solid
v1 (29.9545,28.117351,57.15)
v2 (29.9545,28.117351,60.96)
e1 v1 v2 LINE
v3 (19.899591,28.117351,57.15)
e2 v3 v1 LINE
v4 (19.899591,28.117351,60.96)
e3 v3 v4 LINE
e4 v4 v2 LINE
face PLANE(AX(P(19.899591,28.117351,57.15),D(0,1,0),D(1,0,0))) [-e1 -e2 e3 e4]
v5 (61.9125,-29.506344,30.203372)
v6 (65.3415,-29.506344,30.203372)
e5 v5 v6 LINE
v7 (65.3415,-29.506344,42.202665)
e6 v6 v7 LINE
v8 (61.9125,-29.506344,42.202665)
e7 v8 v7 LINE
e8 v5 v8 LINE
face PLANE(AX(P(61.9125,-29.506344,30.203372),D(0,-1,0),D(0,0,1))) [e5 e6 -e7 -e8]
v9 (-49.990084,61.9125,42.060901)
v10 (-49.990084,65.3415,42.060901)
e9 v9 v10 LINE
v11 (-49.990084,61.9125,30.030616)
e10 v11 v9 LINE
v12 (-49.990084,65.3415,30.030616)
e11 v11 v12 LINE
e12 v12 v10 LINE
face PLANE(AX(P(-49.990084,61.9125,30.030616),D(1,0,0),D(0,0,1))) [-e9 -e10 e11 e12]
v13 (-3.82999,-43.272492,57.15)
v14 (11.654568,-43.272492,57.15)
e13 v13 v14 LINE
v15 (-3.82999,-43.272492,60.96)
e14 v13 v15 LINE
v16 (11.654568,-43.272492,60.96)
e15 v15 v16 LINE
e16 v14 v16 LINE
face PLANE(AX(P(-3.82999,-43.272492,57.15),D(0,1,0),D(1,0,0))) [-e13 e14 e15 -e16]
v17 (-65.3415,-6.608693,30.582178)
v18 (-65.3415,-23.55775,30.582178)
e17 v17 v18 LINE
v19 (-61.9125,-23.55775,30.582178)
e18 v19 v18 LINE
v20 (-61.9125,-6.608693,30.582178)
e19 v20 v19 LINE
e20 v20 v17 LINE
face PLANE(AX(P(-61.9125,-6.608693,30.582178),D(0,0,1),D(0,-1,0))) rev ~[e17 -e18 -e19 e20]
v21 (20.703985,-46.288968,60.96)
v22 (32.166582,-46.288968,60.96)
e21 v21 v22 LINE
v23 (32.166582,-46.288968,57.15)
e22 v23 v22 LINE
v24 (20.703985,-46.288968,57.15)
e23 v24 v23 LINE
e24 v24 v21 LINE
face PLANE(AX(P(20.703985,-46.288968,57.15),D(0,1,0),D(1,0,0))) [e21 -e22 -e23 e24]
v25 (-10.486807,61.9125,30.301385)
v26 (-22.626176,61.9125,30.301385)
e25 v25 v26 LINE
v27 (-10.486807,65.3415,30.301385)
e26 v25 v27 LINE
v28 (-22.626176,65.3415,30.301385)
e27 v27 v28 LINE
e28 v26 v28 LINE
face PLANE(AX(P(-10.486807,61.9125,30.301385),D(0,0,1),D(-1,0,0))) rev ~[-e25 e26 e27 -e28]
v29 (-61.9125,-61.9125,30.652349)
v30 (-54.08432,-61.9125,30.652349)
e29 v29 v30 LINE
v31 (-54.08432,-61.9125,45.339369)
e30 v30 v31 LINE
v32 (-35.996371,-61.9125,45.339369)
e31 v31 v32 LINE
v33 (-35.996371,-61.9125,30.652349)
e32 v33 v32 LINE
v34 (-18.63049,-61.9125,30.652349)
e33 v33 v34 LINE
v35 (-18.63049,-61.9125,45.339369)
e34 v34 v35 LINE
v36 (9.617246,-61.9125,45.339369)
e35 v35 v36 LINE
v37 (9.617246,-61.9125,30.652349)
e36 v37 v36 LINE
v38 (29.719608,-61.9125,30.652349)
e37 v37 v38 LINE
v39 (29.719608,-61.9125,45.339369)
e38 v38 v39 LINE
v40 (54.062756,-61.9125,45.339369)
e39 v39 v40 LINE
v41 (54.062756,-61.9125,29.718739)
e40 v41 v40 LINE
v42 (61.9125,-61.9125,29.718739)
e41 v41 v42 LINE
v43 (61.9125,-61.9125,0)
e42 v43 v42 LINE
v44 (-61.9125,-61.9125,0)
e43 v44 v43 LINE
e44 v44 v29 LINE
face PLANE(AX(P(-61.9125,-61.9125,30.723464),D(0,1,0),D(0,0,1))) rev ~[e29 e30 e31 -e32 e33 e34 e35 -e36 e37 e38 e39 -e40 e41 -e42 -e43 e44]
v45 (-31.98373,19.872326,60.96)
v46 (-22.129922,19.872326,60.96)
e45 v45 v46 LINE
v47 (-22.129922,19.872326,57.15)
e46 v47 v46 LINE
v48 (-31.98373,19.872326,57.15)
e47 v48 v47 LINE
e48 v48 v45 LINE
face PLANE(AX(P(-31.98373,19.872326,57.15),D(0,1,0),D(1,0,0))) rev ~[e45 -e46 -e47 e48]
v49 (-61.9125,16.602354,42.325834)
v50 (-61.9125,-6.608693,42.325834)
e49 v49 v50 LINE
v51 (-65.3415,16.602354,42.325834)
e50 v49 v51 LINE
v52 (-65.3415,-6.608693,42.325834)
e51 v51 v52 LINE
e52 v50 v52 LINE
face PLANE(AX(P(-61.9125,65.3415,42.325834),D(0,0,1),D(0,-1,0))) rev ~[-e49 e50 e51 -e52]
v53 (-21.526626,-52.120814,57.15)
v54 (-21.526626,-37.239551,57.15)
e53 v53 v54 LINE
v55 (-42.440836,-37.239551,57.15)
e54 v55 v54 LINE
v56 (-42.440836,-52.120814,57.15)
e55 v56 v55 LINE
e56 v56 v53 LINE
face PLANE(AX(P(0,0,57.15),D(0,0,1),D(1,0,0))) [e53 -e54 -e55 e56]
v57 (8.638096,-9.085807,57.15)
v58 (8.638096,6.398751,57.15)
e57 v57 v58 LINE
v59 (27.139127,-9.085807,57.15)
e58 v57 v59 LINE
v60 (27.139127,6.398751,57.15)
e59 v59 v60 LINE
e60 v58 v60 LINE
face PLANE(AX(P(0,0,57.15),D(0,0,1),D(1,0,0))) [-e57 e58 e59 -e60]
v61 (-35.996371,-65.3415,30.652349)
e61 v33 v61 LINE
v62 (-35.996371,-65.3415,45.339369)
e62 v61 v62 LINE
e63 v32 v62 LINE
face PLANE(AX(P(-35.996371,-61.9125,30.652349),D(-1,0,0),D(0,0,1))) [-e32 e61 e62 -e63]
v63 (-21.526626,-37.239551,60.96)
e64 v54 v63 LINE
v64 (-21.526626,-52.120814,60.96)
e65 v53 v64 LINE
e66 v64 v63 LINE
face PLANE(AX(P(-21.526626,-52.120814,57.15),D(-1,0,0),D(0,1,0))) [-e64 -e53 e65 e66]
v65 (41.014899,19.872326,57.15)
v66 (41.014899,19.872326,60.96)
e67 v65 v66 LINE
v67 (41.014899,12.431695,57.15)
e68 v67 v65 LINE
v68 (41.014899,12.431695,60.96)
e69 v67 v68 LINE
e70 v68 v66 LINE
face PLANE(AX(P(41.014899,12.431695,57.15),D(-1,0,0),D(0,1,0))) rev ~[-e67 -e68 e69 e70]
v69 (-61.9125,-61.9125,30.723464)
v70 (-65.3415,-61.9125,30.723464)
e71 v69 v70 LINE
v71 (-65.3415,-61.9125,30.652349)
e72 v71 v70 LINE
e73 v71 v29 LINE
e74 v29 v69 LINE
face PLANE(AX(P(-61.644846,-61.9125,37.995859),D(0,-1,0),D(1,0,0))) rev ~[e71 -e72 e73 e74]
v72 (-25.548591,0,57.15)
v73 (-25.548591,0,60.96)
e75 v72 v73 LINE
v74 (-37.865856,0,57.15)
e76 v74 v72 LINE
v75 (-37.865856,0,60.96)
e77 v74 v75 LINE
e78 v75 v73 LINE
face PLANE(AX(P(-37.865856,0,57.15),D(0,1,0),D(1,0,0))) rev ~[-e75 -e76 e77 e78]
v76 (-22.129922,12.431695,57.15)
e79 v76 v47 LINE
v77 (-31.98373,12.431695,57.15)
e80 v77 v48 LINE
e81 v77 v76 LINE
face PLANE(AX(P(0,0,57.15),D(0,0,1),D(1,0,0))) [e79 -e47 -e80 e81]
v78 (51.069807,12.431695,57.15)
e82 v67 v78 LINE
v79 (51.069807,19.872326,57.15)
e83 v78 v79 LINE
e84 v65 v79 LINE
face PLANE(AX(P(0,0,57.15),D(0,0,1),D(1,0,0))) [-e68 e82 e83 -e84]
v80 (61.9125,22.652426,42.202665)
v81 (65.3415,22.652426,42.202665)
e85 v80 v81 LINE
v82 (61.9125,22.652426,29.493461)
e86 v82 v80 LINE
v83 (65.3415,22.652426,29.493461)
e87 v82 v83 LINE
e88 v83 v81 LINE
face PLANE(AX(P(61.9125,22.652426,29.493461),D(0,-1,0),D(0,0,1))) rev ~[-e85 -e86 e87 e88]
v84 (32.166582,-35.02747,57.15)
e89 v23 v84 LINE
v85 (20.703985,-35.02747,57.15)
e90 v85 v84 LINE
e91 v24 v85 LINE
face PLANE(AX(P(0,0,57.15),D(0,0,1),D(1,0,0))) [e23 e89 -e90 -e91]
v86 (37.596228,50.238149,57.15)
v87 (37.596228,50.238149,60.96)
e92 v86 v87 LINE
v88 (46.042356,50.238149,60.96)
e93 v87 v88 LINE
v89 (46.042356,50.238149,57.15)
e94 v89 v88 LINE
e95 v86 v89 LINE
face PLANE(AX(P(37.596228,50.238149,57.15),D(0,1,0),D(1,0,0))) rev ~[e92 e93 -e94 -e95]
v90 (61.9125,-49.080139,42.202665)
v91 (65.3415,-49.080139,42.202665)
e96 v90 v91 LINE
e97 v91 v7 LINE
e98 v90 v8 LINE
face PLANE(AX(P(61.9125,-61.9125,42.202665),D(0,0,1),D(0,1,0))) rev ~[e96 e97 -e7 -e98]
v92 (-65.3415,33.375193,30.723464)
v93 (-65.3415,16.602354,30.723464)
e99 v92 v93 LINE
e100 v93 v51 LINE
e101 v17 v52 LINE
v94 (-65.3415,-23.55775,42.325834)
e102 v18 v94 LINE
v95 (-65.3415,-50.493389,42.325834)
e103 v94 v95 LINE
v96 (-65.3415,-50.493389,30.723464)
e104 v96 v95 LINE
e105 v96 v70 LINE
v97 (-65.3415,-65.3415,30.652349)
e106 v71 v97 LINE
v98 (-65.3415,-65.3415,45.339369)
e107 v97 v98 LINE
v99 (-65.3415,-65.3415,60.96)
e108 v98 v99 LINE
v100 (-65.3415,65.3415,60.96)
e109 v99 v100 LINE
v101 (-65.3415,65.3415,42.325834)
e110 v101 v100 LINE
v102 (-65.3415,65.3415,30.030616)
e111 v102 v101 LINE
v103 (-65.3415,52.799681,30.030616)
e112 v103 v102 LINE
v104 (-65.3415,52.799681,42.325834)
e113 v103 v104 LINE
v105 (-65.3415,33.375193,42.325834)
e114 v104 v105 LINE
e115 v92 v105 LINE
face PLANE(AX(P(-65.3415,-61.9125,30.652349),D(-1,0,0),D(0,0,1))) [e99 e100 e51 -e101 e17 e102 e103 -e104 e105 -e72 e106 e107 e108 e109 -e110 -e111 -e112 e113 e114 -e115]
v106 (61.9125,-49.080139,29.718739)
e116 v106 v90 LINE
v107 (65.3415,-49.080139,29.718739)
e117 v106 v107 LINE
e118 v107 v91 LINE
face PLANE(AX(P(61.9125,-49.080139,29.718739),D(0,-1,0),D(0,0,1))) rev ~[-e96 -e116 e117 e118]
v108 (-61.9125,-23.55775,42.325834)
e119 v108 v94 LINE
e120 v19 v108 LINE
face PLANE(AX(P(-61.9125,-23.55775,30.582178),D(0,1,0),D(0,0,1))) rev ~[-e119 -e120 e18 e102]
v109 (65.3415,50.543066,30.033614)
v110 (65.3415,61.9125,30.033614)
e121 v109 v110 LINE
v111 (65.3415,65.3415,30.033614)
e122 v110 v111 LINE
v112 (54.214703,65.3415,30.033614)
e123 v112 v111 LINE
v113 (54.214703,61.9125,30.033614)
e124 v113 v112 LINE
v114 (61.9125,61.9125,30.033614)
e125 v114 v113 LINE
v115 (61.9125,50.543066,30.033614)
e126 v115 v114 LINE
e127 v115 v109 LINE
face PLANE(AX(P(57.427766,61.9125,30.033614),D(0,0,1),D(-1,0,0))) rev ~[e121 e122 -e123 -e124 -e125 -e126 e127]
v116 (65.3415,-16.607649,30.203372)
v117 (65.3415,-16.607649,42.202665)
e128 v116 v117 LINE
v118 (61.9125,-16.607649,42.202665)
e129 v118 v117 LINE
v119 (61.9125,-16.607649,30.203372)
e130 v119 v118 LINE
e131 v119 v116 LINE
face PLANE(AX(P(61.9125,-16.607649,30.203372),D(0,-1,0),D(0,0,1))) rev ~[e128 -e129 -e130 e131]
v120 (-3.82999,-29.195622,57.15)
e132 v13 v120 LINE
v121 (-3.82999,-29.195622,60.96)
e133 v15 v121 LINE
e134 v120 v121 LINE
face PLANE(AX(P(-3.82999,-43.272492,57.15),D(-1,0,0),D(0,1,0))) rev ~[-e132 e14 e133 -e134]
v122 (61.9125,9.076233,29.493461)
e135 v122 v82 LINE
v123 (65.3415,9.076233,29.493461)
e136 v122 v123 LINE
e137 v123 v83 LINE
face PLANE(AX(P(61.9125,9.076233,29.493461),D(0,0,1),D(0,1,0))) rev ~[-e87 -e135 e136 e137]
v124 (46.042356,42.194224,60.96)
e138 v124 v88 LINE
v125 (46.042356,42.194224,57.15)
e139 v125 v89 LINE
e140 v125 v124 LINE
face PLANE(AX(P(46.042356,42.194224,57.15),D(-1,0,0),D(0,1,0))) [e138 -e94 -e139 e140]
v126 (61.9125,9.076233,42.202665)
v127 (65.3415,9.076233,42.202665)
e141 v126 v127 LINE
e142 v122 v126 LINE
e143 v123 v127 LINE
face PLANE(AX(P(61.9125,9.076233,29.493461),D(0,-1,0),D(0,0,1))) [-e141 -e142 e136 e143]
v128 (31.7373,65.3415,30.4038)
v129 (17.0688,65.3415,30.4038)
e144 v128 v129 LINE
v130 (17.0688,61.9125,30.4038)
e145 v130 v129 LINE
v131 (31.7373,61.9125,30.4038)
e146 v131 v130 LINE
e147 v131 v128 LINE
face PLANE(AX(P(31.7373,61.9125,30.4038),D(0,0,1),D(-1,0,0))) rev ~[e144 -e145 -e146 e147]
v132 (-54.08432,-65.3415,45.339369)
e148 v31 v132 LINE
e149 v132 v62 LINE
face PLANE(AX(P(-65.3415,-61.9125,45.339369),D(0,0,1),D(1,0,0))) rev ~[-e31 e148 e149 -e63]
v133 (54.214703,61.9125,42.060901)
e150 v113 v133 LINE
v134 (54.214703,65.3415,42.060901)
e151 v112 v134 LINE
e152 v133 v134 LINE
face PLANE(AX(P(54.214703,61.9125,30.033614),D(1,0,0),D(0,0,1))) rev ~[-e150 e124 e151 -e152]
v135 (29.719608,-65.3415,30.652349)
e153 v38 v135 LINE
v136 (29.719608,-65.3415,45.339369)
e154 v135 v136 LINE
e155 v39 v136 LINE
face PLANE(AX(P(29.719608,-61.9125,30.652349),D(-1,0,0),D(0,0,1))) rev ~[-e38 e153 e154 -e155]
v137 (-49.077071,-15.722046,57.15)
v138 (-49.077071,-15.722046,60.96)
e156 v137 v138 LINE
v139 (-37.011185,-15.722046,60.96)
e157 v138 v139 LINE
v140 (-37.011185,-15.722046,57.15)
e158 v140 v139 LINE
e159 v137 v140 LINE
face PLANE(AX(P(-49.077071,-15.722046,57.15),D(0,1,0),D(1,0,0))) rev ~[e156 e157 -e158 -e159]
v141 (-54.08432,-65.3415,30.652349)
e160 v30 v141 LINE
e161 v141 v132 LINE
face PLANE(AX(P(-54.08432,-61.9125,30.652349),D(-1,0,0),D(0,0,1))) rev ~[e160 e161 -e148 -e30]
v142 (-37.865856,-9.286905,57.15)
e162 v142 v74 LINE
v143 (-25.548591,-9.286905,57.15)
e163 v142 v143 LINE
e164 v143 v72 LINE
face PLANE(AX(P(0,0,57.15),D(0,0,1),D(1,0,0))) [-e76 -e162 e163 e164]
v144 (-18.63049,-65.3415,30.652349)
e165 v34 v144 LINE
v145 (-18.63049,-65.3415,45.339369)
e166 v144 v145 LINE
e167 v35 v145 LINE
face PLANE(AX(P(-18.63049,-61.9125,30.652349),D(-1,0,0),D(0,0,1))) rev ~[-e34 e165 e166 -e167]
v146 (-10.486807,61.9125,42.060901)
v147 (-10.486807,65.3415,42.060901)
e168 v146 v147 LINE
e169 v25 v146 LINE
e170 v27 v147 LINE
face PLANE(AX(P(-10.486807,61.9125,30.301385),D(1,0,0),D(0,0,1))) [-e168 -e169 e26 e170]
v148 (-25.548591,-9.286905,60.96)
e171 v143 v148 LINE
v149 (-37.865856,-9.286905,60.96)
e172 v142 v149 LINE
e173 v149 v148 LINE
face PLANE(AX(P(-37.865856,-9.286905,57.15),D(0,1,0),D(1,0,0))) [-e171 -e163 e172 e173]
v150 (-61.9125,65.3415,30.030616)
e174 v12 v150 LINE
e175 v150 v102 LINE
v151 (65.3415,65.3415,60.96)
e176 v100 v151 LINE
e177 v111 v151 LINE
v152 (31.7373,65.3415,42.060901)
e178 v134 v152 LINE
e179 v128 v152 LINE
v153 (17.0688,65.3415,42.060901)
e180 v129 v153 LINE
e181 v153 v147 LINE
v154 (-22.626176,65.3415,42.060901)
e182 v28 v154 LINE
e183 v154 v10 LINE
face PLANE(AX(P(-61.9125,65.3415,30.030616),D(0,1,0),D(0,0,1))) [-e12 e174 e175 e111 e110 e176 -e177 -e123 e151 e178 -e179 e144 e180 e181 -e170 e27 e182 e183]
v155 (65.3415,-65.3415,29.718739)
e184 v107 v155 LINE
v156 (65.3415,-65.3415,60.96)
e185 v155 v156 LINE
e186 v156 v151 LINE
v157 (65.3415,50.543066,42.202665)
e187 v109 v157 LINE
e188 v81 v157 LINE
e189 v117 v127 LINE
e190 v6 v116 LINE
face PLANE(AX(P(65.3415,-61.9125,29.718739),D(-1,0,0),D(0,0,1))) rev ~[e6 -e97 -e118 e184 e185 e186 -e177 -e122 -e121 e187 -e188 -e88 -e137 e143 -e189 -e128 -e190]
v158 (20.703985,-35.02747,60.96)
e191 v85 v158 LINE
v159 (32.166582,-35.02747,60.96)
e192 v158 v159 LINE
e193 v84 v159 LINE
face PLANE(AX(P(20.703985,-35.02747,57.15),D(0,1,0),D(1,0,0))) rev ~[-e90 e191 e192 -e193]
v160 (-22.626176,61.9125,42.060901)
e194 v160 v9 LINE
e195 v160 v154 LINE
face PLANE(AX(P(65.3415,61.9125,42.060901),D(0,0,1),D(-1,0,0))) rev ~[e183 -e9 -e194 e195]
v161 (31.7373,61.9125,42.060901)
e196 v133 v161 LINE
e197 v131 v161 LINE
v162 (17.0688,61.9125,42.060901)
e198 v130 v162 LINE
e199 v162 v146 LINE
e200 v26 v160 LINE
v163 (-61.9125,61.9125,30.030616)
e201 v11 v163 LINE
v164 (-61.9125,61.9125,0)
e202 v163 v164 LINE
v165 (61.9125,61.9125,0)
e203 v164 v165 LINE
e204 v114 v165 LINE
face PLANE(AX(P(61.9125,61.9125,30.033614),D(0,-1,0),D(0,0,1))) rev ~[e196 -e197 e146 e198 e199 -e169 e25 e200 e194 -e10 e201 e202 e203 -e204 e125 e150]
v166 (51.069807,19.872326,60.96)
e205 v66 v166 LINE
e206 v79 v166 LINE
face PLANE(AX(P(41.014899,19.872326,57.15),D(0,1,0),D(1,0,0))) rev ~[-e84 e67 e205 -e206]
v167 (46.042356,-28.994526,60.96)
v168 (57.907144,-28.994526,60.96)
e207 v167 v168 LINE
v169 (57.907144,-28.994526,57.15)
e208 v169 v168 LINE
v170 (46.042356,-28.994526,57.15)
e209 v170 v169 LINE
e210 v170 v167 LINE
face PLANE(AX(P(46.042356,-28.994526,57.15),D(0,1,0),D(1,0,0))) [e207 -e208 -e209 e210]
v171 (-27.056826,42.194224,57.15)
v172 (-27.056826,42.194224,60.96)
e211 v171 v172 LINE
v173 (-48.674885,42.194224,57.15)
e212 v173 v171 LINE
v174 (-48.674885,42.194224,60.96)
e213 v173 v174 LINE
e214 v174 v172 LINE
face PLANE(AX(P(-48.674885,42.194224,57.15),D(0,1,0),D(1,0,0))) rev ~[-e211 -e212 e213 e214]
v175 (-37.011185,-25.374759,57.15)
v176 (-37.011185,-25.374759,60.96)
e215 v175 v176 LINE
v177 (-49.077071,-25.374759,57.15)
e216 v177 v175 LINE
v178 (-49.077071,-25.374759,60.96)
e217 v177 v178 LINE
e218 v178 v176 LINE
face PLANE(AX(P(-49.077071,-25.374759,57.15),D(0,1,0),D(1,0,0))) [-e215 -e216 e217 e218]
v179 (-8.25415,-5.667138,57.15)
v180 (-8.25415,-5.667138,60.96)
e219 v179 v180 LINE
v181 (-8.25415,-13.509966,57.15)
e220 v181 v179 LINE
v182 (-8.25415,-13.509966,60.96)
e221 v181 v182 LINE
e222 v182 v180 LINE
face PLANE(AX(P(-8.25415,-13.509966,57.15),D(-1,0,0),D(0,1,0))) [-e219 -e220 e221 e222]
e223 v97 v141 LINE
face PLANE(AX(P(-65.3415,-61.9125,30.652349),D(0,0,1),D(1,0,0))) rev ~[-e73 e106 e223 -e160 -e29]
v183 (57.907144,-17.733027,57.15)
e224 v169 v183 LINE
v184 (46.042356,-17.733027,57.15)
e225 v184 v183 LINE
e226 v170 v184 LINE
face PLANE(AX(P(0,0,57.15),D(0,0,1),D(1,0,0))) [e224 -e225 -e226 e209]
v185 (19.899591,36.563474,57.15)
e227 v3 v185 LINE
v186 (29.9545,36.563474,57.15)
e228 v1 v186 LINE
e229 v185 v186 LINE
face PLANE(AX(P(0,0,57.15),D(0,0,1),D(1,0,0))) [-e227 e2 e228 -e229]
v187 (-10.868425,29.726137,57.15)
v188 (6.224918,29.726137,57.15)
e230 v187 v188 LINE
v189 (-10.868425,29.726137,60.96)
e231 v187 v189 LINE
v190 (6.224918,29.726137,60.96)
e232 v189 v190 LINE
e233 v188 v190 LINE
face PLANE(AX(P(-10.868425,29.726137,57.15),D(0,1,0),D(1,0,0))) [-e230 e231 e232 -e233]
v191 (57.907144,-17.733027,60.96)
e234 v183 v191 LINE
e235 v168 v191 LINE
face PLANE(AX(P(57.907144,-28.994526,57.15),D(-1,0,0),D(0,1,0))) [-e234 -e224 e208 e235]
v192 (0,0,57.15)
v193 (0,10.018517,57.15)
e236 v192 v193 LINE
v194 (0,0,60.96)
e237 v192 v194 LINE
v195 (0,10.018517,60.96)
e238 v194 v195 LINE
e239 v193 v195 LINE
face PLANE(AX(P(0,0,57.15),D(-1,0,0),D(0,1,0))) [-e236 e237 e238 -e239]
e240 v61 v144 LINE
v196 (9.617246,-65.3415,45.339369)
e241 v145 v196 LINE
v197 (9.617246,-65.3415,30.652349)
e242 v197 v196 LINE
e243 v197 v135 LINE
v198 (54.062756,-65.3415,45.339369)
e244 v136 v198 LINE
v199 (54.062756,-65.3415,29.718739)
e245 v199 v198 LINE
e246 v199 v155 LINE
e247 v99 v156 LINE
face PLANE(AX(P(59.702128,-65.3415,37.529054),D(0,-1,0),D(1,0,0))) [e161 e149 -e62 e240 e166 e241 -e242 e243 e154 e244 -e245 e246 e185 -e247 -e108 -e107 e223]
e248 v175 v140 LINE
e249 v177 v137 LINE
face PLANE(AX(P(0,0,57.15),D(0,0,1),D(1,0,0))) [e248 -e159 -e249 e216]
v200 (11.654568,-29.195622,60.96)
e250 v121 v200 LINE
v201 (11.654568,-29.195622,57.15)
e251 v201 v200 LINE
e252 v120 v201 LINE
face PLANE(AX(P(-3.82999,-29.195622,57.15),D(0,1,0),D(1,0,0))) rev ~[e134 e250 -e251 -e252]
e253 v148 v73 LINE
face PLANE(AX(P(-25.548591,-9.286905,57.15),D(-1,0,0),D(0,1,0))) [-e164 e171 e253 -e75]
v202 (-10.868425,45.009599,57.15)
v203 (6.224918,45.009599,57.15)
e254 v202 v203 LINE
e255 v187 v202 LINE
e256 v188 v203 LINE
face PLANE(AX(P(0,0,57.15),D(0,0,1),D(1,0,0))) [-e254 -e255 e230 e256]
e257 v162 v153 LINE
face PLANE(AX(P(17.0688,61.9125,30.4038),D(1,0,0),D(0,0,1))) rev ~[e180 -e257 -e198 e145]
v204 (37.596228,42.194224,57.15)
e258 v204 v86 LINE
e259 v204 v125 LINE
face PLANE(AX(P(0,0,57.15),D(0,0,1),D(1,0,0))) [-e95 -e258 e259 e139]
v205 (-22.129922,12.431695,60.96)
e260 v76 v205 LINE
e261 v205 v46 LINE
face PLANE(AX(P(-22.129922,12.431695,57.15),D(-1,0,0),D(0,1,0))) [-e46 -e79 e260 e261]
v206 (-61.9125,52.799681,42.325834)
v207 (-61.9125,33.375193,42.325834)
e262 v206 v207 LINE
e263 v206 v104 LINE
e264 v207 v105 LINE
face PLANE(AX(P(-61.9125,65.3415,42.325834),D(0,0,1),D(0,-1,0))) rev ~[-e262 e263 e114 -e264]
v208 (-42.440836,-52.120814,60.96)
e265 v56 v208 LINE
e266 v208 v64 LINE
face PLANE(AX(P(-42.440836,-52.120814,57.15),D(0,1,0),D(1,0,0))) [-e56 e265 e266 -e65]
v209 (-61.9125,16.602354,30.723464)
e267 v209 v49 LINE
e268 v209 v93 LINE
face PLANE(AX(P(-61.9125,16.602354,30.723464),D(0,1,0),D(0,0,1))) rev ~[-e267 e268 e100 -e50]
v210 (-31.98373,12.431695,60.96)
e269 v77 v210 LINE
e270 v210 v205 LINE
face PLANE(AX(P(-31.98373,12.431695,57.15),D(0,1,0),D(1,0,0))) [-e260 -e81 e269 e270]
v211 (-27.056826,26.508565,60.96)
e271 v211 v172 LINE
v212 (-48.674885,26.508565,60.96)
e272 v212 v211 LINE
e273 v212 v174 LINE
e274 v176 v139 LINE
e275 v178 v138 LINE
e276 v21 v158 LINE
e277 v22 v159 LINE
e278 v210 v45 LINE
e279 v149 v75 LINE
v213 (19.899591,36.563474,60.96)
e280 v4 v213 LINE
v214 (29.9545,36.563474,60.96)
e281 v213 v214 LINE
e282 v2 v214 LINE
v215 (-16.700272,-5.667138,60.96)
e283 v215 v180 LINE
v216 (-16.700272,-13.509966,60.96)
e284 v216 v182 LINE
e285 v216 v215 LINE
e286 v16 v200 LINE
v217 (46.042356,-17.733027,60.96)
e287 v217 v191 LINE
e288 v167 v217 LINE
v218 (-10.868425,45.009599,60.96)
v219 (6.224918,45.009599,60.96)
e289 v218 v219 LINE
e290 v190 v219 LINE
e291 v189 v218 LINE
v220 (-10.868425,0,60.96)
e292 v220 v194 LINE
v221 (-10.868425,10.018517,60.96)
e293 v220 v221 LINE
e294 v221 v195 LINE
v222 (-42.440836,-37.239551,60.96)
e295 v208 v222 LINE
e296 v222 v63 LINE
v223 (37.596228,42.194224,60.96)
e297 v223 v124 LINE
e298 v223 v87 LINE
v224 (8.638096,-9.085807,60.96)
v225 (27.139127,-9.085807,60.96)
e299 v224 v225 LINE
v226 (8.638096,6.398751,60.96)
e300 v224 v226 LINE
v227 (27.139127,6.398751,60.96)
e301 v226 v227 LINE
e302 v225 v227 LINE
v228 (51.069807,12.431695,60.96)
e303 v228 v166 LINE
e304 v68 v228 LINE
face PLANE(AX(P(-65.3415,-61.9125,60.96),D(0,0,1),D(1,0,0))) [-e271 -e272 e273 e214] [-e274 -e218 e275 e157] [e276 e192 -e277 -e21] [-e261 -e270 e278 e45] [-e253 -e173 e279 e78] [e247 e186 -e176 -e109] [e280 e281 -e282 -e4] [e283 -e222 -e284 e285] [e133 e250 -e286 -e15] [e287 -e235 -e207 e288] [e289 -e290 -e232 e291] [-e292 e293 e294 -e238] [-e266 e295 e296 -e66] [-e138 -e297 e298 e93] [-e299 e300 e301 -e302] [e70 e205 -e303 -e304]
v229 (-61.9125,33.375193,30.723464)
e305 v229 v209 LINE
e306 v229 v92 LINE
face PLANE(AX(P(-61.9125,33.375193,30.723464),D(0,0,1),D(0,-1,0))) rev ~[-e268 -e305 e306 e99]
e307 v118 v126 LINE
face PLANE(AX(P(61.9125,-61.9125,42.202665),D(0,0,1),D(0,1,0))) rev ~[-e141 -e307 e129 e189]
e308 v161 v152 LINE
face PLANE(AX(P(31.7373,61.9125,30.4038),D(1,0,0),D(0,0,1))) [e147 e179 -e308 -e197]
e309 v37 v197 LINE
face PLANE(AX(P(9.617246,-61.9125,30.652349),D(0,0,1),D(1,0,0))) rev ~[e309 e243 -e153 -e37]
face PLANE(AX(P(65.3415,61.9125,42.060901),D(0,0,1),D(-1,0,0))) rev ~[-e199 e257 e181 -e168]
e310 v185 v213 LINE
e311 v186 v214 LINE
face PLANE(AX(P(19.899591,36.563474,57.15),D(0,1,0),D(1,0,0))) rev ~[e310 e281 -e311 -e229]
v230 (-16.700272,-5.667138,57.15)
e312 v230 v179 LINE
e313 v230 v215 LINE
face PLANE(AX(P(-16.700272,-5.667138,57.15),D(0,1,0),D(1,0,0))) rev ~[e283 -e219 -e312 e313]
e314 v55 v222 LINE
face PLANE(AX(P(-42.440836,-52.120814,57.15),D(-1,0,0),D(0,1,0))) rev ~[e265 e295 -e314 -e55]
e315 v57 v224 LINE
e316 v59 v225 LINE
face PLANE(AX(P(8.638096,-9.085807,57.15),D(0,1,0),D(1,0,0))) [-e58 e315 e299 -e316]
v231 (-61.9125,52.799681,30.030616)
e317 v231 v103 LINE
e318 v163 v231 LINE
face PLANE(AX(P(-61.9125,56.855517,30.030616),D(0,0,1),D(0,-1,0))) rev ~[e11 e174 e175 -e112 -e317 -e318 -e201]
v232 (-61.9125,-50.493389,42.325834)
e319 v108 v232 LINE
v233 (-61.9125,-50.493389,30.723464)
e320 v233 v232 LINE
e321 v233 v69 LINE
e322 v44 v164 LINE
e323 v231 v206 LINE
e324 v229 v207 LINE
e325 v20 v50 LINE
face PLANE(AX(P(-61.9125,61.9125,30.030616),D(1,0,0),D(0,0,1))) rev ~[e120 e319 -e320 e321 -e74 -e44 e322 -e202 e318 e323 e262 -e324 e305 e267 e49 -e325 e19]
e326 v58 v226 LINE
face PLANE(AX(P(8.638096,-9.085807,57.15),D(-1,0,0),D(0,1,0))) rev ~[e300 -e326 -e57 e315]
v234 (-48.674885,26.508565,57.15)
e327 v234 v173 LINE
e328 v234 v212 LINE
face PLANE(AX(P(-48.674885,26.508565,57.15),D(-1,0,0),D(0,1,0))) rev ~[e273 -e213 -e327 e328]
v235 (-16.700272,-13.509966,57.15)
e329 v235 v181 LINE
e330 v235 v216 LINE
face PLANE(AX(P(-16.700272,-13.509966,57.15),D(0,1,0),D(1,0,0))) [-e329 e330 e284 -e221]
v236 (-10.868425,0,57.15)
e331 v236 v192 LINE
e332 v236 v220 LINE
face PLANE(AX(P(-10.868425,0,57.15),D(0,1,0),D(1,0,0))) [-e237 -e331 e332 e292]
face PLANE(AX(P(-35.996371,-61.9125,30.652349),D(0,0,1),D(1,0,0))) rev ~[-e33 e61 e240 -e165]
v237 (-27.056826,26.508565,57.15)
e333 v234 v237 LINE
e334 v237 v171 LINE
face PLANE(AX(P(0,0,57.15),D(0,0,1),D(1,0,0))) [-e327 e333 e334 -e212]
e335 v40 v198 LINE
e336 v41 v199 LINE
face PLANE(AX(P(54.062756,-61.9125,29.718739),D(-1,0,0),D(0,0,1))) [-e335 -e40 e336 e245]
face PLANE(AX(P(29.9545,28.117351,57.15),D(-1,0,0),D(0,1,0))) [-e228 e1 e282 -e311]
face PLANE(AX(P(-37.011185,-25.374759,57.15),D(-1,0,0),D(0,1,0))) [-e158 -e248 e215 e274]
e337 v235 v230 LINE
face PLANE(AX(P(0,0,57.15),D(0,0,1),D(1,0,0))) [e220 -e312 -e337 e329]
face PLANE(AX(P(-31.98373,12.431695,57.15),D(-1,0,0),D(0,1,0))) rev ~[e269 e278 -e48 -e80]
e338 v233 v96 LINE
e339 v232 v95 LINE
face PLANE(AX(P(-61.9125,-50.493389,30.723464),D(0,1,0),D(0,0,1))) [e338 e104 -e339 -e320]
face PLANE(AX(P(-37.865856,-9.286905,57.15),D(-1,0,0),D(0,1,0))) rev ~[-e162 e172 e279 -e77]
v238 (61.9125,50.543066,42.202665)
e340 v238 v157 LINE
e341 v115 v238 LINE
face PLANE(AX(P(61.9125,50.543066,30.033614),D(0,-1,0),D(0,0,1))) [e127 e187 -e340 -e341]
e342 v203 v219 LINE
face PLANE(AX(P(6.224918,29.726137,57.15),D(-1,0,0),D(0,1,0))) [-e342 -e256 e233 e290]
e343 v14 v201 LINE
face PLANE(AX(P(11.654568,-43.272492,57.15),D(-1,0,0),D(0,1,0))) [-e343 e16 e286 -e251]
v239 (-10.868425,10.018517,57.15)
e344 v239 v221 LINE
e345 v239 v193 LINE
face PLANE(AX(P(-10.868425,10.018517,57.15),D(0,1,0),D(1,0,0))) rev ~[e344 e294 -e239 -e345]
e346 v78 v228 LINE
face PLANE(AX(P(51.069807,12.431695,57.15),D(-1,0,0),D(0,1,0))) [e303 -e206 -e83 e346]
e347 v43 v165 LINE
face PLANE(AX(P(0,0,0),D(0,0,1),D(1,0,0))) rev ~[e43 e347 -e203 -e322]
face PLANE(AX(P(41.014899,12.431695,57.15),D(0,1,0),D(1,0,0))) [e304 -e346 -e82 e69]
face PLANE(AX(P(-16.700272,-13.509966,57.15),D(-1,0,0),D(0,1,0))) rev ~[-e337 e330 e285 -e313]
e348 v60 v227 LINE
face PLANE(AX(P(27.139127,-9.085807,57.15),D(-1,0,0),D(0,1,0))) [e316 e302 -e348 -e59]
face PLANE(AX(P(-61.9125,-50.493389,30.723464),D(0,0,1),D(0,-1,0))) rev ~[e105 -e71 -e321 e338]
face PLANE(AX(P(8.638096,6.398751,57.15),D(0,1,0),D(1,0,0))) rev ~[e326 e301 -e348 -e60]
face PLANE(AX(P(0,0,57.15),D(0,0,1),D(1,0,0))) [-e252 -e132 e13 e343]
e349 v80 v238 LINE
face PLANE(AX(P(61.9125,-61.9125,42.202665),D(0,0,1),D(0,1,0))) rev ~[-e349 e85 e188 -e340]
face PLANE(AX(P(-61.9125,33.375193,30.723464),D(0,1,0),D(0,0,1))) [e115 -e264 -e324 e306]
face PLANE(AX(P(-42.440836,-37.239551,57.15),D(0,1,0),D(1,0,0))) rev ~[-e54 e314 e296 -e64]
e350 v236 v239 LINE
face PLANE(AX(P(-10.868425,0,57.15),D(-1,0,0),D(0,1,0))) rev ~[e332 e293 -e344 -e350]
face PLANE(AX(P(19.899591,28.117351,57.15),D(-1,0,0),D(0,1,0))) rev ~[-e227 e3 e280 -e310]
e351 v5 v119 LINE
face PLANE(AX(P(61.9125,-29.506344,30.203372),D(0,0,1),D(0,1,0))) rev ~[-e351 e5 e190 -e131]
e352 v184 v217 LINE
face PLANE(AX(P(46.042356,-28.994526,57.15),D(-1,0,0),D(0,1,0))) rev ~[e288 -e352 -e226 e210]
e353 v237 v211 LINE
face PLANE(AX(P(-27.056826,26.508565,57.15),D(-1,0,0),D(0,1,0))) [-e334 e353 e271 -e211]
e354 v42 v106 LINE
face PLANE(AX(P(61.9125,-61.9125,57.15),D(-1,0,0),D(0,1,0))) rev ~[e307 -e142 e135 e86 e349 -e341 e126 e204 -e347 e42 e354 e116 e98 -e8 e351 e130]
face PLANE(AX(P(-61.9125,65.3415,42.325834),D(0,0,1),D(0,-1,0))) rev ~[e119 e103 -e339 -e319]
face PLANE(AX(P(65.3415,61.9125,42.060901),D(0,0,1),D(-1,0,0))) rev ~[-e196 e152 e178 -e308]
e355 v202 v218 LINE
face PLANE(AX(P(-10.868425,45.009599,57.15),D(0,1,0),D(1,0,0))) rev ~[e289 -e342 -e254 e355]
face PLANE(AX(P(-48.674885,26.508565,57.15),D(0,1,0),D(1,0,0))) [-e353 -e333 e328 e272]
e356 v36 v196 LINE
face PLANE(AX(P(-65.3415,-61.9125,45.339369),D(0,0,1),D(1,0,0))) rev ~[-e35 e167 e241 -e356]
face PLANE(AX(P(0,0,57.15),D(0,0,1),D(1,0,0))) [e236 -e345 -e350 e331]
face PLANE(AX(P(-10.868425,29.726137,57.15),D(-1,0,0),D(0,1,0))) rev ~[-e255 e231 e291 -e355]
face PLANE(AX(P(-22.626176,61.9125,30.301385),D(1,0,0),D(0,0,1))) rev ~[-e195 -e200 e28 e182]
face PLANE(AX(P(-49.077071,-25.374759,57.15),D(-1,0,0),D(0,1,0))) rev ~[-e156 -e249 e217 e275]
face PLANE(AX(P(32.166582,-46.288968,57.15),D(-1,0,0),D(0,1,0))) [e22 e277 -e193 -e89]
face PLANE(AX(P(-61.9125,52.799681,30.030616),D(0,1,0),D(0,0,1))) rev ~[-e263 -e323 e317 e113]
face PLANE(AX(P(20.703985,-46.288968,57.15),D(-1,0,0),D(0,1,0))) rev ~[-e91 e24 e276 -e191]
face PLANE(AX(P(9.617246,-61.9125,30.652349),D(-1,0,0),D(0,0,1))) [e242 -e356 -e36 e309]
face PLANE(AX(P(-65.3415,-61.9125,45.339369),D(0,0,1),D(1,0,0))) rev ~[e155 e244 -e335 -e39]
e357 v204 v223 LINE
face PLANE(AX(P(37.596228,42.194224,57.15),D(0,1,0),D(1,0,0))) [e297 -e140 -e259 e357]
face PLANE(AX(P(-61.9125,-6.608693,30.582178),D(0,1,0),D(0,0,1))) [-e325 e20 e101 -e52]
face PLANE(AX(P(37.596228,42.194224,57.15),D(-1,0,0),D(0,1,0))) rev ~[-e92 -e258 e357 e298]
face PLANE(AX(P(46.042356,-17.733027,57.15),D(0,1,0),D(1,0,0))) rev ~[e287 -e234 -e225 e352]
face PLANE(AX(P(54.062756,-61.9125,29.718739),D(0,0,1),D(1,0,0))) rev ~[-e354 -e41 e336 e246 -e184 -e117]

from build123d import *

# Parameters (mm, degrees)
F0_W      = 82.55
F0_H      = 82.55
F1_DEPTH  = 38.1
F2_W      = 82.55
F2_H      = 82.55
F2_W_2    = 13.9428069815
F2_H_2    = 9.9208420143
F2_W_3    = 8.0439243466
F2_H_3    = 6.4351418987
F2_W_4    = 8.2115095574
F2_H_4    = 6.1912699603
F2_W_5    = 5.6307478808
F2_H_5    = 5.2285513375
F2_W_6    = 10.3230390232
F2_H_6    = 9.3845799565
F2_W_7    = 7.6417308301
F2_H_7    = 7.5076650828
F2_W_8    = 12.3340208083
F2_H_8    = 10.3230387904
F2_W_9    = 7.9098585993
F2_H_9    = 7.5076660141
F2_W_10   = 7.2456169873
F2_H_10   = 6.6790115088
F2_W_11   = 6.5692057833
F2_H_11   = 4.9604205415
F2_W_12   = 14.4120394252
F2_H_12   = 10.4571059346
F2_W_13   = 11.3955624402
F2_H_13   = 10.1889744401
F2_W_14   = 6.7032724619
F2_H_14   = 5.6307483464
F2_W_15   = 5.6307520717
F2_H_15   = 5.3626168519
F3_DEPTH  = 2.54
F4_W      = 82.55
F4_H      = 12.5048903072
F5_DEPTH  = 2.286
F6_W      = 8.554907316
F6_H      = 8.3226170391
F7_DEPTH  = 2.286
F8_W      = 8.5991304368
F8_H      = 7.9995281994
F9_DEPTH  = 2.286
F10_W     = 9.0507952429
F10_H     = 8.4728021175
F11_DEPTH = 2.286
F12_W     = 7.5796225905
F12_H     = 8.1127006561
F13_DEPTH = 2.286
F14_W     = 84.836
F14_H     = 12.5993990594
F15_DEPTH = 2.286
F16_W     = 5.275822799
F16_H     = 8.0181919038
F17_DEPTH = 2.286
F18_W     = 2.1420419216
F18_H     = 8.0181919038
F19_DEPTH = 2.286
F20_W     = 9.7789997235
F20_H     = 7.7714007348
F21_DEPTH = 2.286
F22_W     = 8.092913311
F22_H     = 7.8396778554
F23_DEPTH = 2.286
F24_W     = 7.9482773185
F24_H     = 8.0201905221
F25_DEPTH = 2.286
F26_W     = 84.836
F26_H     = 12.4227774584
F27_DEPTH = 2.286
F28_W     = 5.6573223279
F28_H     = 8.1968121231
F29_DEPTH = 2.286
F30_W     = 2.7038902044
F30_H     = 8.1968121231
F31_DEPTH = 2.286
F32_W     = 11.1818928272
F32_H     = 7.734913379
F33_DEPTH = 2.286
F34_W     = 11.2993712537
F34_H     = 7.8291036189
F35_DEPTH = 2.286
F36_W     = 7.6127404213
F36_H     = 7.734913379
F37_DEPTH = 2.286
F38_W     = 87.122
F38_H     = 10.4137536731
F39_DEPTH = 2.286
F40_W     = 4.9288716123
F40_H     = 9.7913470712
F40_W_2   = 2.5759153068
F41_DEPTH = 2.286
F42_W     = 11.5772541612
F42_H     = 9.7913470712
F43_DEPTH = 2.286
F44_W     = 13.4015749209
F44_H     = 9.7913470712
F45_DEPTH = 2.286
F46_W     = 7.5191628144
F46_H     = 10.4137536731
F47_DEPTH = 2.286
F48_SCALE = 1.5


with BuildPart() as f1:
    # F0 (on Top) → F1 (new body)
    with BuildSketch(Plane.XY):
        Rectangle(F0_W, F0_H)
    extrude(amount=F1_DEPTH)

    # F2 (on face) → F3 (join)
    with BuildSketch(Plane.XY.offset(38.1)):
        Rectangle(F2_W, F2_H)
        with Locations((-21.3224873878, -29.7867883928)):
            Rectangle(F2_W_2, F2_H_2, mode=Mode.SUBTRACT)
        with Locations((-28.6960853264, -13.6989350431)):
            Rectangle(F2_W_3, F2_H_3, mode=Mode.SUBTRACT)
        with Locations((-21.1381489644, -3.0956349801)):
            Rectangle(F2_W_4, F2_H_4, mode=Mode.SUBTRACT)
        with Locations((-8.3181404043, -6.3923679991)):
            Rectangle(F2_W_5, F2_H_5, mode=Mode.SUBTRACT)
        with Locations((2.6081927354, -24.1560377181)):
            Rectangle(F2_W_6, F2_H_6, mode=Mode.SUBTRACT)
        with Locations((17.6235223189, -27.1054795012)):
            Rectangle(F2_W_7, F2_H_7, mode=Mode.SUBTRACT)
        with Locations((11.9257410988, -0.8956852835)):
            Rectangle(F2_W_8, F2_H_8, mode=Mode.SUBTRACT)
        with Locations((34.6498331055, -15.5758508481)):
            Rectangle(F2_W_9, F2_H_9, mode=Mode.SUBTRACT)
        with Locations((-3.6228084937, 3.3395057544)):
            Rectangle(F2_W_10, F2_H_10, mode=Mode.SUBTRACT)
        with Locations((-18.0378840305, 10.7680070214)):
            Rectangle(F2_W_11, F2_H_11, mode=Mode.SUBTRACT)
        with Locations((-25.2439037431, 22.9009296745)):
            Rectangle(F2_W_12, F2_H_12, mode=Mode.SUBTRACT)
        with Locations((-1.5478357673, 24.9119121581)):
            Rectangle(F2_W_13, F2_H_13, mode=Mode.SUBTRACT)
        with Locations((30.6949019432, 10.7680070214)):
            Rectangle(F2_W_14, F2_H_11, mode=Mode.SUBTRACT)
        with Locations((16.6180301458, 21.5602749959)):
            Rectangle(F2_W_14, F2_H_14, mode=Mode.SUBTRACT)
        with Locations((27.87952777, 30.8107910678)):
            Rectangle(F2_W_15, F2_H_15, mode=Mode.SUBTRACT)
    extrude(amount=F3_DEPTH)

    # F4 (on face) → F5 (join)
    with BuildSketch(Plane.YZ.offset(41.275)):
        with Locations((0, 34.3875548464)):
            Rectangle(F4_W, F4_H)
    extrude(amount=F5_DEPTH)

    # F6 (on face) → F7 (join)
    with BuildSketch(Plane.YZ.offset(41.275)):
        with Locations((-36.997546342, 23.9738011733)):
            Rectangle(F6_W, F6_H)
    extrude(amount=F7_DEPTH)

    # F8 (on face) → F9 (join)
    with BuildSketch(Plane.YZ.offset(41.275)):
        with Locations((-15.3713310137, 24.1353455931)):
            Rectangle(F8_W, F8_H)
    extrude(amount=F9_DEPTH)

    # F10 (on face) → F11 (join)
    with BuildSketch(Plane.YZ.offset(41.275)):
        with Locations((10.5762194809, 23.8987086341)):
            Rectangle(F10_W, F10_H)
    extrude(amount=F11_DEPTH)

    # F12 (on face) → F13 (join)
    with BuildSketch(Plane.YZ.offset(41.275)):
        with Locations((37.4851887047, 24.0787593648)):
            Rectangle(F12_W, F12_H)
    extrude(amount=F13_DEPTH)

    # F14 (on face) → F15 (join)
    with BuildSketch(Plane(origin=(0, 41.275, 0), x_dir=(-1, 0, 0), z_dir=(0, 1, 0))):
        with Locations((-1.143, 34.3403004703)):
            Rectangle(F14_W, F14_H)
    extrude(amount=F15_DEPTH)

    # F16 (on face) → F17 (join)
    with BuildSketch(Plane(origin=(0, 41.275, 0), x_dir=(-1, 0, 0), z_dir=(0, 1, 0))):
        with Locations((-40.9230886005, 24.0315049887)):
            Rectangle(F16_W, F16_H)
    extrude(amount=F17_DEPTH)

    # F18 (on face) → F19 (join)
    with BuildSketch(Plane(origin=(0, 41.275, 0), x_dir=(-1, 0, 0), z_dir=(0, 1, 0))):
        with Locations((-37.2141562402, 24.0315049887)):
            Rectangle(F18_W, F18_H)
    extrude(amount=F19_DEPTH)

    # F20 (on face) → F21 (join)
    with BuildSketch(Plane(origin=(0, 41.275, 0), x_dir=(-1, 0, 0), z_dir=(0, 1, 0))):
        with Locations((-16.2686998956, 24.1549005732)):
            Rectangle(F20_W, F20_H)
    extrude(amount=F21_DEPTH)

    # F22 (on face) → F23 (join)
    with BuildSketch(Plane(origin=(0, 41.275, 0), x_dir=(-1, 0, 0), z_dir=(0, 1, 0))):
        with Locations((11.0376609955, 24.1207620129)):
            Rectangle(F22_W, F22_H)
    extrude(amount=F23_DEPTH)

    # F24 (on face) → F25 (join)
    with BuildSketch(Plane(origin=(0, 41.275, 0), x_dir=(-1, 0, 0), z_dir=(0, 1, 0))):
        with Locations((37.3008613408, 24.0305056795)):
            Rectangle(F24_W, F24_H)
    extrude(amount=F25_DEPTH)

    # F26 (on face) → F27 (join)
    with BuildSketch(Plane(origin=(-41.275, 0, 0), x_dir=(0, -1, 0), z_dir=(-1, 0, 0))):
        with Locations((-1.143, 34.4286112708)):
            Rectangle(F26_W, F26_H)
    extrude(amount=F27_DEPTH)

    # F28 (on face) → F29 (join)
    with BuildSketch(Plane(origin=(-41.275, 0, 0), x_dir=(0, -1, 0), z_dir=(-1, 0, 0))):
        with Locations((-40.7323388361, 24.11881648)):
            Rectangle(F28_W, F28_H)
    extrude(amount=F29_DEPTH)

    # F30 (on face) → F31 (join)
    with BuildSketch(Plane(origin=(-41.275, 0, 0), x_dir=(0, -1, 0), z_dir=(-1, 0, 0))):
        with Locations((-36.5517325699, 24.11881648)):
            Rectangle(F30_W, F30_H)
    extrude(amount=F31_DEPTH)

    # F32 (on face) → F33 (join)
    with BuildSketch(Plane(origin=(-41.275, 0, 0), x_dir=(0, -1, 0), z_dir=(-1, 0, 0))):
        with Locations((-16.6591824964, 24.3497658521)):
            Rectangle(F32_W, F32_H)
    extrude(amount=F33_DEPTH)

    # F34 (on face) → F35 (join)
    with BuildSketch(Plane(origin=(-41.275, 0, 0), x_dir=(0, -1, 0), z_dir=(-1, 0, 0))):
        with Locations((10.0554807577, 24.3026707321)):
            Rectangle(F34_W, F34_H)
    extrude(amount=F35_DEPTH)

    # F36 (on face) → F37 (join)
    with BuildSketch(Plane(origin=(-41.275, 0, 0), x_dir=(0, -1, 0), z_dir=(-1, 0, 0))):
        with Locations((37.4686297894, 24.3497658521)):
            Rectangle(F36_W, F36_H)
    extrude(amount=F37_DEPTH)

    # F38 (on face) → F39 (join)
    with BuildSketch(Plane.XZ.offset(41.275)):
        with Locations((0, 35.4331231634)):
            Rectangle(F38_W, F38_H)
    extrude(amount=F39_DEPTH)

    # F40 (on face) → F41 (join)
    with BuildSketch(Plane.XZ.offset(41.275)):
        with Locations((-41.0965641938, 25.3305727912)):
            Rectangle(F40_W, F40_H)
        with Locations((-37.3441707343, 25.3305727912)):
            Rectangle(F40_W_2, F40_H)
    extrude(amount=F41_DEPTH)

    # F42 (on face) → F43 (join)
    with BuildSketch(Plane.XZ.offset(41.275)):
        with Locations((-18.2089535519, 25.3305727912)):
            Rectangle(F42_W, F42_H)
    extrude(amount=F43_DEPTH)

    # F44 (on face) → F45 (join)
    with BuildSketch(Plane.XZ.offset(41.275)):
        with Locations((13.1122844759, 25.3305727912)):
            Rectangle(F44_W, F44_H)
    extrude(amount=F45_DEPTH)

    # F46 (on face) → F47 (join)
    with BuildSketch(Plane.XZ.offset(41.275)):
        with Locations((39.8014185928, 25.0193694903)):
            Rectangle(F46_W, F46_H)
    extrude(amount=F47_DEPTH)


with BuildPart() as f1_1:
    # F48: moved
    add(f1.part.scale(F48_SCALE))


solid = f1_1.part
